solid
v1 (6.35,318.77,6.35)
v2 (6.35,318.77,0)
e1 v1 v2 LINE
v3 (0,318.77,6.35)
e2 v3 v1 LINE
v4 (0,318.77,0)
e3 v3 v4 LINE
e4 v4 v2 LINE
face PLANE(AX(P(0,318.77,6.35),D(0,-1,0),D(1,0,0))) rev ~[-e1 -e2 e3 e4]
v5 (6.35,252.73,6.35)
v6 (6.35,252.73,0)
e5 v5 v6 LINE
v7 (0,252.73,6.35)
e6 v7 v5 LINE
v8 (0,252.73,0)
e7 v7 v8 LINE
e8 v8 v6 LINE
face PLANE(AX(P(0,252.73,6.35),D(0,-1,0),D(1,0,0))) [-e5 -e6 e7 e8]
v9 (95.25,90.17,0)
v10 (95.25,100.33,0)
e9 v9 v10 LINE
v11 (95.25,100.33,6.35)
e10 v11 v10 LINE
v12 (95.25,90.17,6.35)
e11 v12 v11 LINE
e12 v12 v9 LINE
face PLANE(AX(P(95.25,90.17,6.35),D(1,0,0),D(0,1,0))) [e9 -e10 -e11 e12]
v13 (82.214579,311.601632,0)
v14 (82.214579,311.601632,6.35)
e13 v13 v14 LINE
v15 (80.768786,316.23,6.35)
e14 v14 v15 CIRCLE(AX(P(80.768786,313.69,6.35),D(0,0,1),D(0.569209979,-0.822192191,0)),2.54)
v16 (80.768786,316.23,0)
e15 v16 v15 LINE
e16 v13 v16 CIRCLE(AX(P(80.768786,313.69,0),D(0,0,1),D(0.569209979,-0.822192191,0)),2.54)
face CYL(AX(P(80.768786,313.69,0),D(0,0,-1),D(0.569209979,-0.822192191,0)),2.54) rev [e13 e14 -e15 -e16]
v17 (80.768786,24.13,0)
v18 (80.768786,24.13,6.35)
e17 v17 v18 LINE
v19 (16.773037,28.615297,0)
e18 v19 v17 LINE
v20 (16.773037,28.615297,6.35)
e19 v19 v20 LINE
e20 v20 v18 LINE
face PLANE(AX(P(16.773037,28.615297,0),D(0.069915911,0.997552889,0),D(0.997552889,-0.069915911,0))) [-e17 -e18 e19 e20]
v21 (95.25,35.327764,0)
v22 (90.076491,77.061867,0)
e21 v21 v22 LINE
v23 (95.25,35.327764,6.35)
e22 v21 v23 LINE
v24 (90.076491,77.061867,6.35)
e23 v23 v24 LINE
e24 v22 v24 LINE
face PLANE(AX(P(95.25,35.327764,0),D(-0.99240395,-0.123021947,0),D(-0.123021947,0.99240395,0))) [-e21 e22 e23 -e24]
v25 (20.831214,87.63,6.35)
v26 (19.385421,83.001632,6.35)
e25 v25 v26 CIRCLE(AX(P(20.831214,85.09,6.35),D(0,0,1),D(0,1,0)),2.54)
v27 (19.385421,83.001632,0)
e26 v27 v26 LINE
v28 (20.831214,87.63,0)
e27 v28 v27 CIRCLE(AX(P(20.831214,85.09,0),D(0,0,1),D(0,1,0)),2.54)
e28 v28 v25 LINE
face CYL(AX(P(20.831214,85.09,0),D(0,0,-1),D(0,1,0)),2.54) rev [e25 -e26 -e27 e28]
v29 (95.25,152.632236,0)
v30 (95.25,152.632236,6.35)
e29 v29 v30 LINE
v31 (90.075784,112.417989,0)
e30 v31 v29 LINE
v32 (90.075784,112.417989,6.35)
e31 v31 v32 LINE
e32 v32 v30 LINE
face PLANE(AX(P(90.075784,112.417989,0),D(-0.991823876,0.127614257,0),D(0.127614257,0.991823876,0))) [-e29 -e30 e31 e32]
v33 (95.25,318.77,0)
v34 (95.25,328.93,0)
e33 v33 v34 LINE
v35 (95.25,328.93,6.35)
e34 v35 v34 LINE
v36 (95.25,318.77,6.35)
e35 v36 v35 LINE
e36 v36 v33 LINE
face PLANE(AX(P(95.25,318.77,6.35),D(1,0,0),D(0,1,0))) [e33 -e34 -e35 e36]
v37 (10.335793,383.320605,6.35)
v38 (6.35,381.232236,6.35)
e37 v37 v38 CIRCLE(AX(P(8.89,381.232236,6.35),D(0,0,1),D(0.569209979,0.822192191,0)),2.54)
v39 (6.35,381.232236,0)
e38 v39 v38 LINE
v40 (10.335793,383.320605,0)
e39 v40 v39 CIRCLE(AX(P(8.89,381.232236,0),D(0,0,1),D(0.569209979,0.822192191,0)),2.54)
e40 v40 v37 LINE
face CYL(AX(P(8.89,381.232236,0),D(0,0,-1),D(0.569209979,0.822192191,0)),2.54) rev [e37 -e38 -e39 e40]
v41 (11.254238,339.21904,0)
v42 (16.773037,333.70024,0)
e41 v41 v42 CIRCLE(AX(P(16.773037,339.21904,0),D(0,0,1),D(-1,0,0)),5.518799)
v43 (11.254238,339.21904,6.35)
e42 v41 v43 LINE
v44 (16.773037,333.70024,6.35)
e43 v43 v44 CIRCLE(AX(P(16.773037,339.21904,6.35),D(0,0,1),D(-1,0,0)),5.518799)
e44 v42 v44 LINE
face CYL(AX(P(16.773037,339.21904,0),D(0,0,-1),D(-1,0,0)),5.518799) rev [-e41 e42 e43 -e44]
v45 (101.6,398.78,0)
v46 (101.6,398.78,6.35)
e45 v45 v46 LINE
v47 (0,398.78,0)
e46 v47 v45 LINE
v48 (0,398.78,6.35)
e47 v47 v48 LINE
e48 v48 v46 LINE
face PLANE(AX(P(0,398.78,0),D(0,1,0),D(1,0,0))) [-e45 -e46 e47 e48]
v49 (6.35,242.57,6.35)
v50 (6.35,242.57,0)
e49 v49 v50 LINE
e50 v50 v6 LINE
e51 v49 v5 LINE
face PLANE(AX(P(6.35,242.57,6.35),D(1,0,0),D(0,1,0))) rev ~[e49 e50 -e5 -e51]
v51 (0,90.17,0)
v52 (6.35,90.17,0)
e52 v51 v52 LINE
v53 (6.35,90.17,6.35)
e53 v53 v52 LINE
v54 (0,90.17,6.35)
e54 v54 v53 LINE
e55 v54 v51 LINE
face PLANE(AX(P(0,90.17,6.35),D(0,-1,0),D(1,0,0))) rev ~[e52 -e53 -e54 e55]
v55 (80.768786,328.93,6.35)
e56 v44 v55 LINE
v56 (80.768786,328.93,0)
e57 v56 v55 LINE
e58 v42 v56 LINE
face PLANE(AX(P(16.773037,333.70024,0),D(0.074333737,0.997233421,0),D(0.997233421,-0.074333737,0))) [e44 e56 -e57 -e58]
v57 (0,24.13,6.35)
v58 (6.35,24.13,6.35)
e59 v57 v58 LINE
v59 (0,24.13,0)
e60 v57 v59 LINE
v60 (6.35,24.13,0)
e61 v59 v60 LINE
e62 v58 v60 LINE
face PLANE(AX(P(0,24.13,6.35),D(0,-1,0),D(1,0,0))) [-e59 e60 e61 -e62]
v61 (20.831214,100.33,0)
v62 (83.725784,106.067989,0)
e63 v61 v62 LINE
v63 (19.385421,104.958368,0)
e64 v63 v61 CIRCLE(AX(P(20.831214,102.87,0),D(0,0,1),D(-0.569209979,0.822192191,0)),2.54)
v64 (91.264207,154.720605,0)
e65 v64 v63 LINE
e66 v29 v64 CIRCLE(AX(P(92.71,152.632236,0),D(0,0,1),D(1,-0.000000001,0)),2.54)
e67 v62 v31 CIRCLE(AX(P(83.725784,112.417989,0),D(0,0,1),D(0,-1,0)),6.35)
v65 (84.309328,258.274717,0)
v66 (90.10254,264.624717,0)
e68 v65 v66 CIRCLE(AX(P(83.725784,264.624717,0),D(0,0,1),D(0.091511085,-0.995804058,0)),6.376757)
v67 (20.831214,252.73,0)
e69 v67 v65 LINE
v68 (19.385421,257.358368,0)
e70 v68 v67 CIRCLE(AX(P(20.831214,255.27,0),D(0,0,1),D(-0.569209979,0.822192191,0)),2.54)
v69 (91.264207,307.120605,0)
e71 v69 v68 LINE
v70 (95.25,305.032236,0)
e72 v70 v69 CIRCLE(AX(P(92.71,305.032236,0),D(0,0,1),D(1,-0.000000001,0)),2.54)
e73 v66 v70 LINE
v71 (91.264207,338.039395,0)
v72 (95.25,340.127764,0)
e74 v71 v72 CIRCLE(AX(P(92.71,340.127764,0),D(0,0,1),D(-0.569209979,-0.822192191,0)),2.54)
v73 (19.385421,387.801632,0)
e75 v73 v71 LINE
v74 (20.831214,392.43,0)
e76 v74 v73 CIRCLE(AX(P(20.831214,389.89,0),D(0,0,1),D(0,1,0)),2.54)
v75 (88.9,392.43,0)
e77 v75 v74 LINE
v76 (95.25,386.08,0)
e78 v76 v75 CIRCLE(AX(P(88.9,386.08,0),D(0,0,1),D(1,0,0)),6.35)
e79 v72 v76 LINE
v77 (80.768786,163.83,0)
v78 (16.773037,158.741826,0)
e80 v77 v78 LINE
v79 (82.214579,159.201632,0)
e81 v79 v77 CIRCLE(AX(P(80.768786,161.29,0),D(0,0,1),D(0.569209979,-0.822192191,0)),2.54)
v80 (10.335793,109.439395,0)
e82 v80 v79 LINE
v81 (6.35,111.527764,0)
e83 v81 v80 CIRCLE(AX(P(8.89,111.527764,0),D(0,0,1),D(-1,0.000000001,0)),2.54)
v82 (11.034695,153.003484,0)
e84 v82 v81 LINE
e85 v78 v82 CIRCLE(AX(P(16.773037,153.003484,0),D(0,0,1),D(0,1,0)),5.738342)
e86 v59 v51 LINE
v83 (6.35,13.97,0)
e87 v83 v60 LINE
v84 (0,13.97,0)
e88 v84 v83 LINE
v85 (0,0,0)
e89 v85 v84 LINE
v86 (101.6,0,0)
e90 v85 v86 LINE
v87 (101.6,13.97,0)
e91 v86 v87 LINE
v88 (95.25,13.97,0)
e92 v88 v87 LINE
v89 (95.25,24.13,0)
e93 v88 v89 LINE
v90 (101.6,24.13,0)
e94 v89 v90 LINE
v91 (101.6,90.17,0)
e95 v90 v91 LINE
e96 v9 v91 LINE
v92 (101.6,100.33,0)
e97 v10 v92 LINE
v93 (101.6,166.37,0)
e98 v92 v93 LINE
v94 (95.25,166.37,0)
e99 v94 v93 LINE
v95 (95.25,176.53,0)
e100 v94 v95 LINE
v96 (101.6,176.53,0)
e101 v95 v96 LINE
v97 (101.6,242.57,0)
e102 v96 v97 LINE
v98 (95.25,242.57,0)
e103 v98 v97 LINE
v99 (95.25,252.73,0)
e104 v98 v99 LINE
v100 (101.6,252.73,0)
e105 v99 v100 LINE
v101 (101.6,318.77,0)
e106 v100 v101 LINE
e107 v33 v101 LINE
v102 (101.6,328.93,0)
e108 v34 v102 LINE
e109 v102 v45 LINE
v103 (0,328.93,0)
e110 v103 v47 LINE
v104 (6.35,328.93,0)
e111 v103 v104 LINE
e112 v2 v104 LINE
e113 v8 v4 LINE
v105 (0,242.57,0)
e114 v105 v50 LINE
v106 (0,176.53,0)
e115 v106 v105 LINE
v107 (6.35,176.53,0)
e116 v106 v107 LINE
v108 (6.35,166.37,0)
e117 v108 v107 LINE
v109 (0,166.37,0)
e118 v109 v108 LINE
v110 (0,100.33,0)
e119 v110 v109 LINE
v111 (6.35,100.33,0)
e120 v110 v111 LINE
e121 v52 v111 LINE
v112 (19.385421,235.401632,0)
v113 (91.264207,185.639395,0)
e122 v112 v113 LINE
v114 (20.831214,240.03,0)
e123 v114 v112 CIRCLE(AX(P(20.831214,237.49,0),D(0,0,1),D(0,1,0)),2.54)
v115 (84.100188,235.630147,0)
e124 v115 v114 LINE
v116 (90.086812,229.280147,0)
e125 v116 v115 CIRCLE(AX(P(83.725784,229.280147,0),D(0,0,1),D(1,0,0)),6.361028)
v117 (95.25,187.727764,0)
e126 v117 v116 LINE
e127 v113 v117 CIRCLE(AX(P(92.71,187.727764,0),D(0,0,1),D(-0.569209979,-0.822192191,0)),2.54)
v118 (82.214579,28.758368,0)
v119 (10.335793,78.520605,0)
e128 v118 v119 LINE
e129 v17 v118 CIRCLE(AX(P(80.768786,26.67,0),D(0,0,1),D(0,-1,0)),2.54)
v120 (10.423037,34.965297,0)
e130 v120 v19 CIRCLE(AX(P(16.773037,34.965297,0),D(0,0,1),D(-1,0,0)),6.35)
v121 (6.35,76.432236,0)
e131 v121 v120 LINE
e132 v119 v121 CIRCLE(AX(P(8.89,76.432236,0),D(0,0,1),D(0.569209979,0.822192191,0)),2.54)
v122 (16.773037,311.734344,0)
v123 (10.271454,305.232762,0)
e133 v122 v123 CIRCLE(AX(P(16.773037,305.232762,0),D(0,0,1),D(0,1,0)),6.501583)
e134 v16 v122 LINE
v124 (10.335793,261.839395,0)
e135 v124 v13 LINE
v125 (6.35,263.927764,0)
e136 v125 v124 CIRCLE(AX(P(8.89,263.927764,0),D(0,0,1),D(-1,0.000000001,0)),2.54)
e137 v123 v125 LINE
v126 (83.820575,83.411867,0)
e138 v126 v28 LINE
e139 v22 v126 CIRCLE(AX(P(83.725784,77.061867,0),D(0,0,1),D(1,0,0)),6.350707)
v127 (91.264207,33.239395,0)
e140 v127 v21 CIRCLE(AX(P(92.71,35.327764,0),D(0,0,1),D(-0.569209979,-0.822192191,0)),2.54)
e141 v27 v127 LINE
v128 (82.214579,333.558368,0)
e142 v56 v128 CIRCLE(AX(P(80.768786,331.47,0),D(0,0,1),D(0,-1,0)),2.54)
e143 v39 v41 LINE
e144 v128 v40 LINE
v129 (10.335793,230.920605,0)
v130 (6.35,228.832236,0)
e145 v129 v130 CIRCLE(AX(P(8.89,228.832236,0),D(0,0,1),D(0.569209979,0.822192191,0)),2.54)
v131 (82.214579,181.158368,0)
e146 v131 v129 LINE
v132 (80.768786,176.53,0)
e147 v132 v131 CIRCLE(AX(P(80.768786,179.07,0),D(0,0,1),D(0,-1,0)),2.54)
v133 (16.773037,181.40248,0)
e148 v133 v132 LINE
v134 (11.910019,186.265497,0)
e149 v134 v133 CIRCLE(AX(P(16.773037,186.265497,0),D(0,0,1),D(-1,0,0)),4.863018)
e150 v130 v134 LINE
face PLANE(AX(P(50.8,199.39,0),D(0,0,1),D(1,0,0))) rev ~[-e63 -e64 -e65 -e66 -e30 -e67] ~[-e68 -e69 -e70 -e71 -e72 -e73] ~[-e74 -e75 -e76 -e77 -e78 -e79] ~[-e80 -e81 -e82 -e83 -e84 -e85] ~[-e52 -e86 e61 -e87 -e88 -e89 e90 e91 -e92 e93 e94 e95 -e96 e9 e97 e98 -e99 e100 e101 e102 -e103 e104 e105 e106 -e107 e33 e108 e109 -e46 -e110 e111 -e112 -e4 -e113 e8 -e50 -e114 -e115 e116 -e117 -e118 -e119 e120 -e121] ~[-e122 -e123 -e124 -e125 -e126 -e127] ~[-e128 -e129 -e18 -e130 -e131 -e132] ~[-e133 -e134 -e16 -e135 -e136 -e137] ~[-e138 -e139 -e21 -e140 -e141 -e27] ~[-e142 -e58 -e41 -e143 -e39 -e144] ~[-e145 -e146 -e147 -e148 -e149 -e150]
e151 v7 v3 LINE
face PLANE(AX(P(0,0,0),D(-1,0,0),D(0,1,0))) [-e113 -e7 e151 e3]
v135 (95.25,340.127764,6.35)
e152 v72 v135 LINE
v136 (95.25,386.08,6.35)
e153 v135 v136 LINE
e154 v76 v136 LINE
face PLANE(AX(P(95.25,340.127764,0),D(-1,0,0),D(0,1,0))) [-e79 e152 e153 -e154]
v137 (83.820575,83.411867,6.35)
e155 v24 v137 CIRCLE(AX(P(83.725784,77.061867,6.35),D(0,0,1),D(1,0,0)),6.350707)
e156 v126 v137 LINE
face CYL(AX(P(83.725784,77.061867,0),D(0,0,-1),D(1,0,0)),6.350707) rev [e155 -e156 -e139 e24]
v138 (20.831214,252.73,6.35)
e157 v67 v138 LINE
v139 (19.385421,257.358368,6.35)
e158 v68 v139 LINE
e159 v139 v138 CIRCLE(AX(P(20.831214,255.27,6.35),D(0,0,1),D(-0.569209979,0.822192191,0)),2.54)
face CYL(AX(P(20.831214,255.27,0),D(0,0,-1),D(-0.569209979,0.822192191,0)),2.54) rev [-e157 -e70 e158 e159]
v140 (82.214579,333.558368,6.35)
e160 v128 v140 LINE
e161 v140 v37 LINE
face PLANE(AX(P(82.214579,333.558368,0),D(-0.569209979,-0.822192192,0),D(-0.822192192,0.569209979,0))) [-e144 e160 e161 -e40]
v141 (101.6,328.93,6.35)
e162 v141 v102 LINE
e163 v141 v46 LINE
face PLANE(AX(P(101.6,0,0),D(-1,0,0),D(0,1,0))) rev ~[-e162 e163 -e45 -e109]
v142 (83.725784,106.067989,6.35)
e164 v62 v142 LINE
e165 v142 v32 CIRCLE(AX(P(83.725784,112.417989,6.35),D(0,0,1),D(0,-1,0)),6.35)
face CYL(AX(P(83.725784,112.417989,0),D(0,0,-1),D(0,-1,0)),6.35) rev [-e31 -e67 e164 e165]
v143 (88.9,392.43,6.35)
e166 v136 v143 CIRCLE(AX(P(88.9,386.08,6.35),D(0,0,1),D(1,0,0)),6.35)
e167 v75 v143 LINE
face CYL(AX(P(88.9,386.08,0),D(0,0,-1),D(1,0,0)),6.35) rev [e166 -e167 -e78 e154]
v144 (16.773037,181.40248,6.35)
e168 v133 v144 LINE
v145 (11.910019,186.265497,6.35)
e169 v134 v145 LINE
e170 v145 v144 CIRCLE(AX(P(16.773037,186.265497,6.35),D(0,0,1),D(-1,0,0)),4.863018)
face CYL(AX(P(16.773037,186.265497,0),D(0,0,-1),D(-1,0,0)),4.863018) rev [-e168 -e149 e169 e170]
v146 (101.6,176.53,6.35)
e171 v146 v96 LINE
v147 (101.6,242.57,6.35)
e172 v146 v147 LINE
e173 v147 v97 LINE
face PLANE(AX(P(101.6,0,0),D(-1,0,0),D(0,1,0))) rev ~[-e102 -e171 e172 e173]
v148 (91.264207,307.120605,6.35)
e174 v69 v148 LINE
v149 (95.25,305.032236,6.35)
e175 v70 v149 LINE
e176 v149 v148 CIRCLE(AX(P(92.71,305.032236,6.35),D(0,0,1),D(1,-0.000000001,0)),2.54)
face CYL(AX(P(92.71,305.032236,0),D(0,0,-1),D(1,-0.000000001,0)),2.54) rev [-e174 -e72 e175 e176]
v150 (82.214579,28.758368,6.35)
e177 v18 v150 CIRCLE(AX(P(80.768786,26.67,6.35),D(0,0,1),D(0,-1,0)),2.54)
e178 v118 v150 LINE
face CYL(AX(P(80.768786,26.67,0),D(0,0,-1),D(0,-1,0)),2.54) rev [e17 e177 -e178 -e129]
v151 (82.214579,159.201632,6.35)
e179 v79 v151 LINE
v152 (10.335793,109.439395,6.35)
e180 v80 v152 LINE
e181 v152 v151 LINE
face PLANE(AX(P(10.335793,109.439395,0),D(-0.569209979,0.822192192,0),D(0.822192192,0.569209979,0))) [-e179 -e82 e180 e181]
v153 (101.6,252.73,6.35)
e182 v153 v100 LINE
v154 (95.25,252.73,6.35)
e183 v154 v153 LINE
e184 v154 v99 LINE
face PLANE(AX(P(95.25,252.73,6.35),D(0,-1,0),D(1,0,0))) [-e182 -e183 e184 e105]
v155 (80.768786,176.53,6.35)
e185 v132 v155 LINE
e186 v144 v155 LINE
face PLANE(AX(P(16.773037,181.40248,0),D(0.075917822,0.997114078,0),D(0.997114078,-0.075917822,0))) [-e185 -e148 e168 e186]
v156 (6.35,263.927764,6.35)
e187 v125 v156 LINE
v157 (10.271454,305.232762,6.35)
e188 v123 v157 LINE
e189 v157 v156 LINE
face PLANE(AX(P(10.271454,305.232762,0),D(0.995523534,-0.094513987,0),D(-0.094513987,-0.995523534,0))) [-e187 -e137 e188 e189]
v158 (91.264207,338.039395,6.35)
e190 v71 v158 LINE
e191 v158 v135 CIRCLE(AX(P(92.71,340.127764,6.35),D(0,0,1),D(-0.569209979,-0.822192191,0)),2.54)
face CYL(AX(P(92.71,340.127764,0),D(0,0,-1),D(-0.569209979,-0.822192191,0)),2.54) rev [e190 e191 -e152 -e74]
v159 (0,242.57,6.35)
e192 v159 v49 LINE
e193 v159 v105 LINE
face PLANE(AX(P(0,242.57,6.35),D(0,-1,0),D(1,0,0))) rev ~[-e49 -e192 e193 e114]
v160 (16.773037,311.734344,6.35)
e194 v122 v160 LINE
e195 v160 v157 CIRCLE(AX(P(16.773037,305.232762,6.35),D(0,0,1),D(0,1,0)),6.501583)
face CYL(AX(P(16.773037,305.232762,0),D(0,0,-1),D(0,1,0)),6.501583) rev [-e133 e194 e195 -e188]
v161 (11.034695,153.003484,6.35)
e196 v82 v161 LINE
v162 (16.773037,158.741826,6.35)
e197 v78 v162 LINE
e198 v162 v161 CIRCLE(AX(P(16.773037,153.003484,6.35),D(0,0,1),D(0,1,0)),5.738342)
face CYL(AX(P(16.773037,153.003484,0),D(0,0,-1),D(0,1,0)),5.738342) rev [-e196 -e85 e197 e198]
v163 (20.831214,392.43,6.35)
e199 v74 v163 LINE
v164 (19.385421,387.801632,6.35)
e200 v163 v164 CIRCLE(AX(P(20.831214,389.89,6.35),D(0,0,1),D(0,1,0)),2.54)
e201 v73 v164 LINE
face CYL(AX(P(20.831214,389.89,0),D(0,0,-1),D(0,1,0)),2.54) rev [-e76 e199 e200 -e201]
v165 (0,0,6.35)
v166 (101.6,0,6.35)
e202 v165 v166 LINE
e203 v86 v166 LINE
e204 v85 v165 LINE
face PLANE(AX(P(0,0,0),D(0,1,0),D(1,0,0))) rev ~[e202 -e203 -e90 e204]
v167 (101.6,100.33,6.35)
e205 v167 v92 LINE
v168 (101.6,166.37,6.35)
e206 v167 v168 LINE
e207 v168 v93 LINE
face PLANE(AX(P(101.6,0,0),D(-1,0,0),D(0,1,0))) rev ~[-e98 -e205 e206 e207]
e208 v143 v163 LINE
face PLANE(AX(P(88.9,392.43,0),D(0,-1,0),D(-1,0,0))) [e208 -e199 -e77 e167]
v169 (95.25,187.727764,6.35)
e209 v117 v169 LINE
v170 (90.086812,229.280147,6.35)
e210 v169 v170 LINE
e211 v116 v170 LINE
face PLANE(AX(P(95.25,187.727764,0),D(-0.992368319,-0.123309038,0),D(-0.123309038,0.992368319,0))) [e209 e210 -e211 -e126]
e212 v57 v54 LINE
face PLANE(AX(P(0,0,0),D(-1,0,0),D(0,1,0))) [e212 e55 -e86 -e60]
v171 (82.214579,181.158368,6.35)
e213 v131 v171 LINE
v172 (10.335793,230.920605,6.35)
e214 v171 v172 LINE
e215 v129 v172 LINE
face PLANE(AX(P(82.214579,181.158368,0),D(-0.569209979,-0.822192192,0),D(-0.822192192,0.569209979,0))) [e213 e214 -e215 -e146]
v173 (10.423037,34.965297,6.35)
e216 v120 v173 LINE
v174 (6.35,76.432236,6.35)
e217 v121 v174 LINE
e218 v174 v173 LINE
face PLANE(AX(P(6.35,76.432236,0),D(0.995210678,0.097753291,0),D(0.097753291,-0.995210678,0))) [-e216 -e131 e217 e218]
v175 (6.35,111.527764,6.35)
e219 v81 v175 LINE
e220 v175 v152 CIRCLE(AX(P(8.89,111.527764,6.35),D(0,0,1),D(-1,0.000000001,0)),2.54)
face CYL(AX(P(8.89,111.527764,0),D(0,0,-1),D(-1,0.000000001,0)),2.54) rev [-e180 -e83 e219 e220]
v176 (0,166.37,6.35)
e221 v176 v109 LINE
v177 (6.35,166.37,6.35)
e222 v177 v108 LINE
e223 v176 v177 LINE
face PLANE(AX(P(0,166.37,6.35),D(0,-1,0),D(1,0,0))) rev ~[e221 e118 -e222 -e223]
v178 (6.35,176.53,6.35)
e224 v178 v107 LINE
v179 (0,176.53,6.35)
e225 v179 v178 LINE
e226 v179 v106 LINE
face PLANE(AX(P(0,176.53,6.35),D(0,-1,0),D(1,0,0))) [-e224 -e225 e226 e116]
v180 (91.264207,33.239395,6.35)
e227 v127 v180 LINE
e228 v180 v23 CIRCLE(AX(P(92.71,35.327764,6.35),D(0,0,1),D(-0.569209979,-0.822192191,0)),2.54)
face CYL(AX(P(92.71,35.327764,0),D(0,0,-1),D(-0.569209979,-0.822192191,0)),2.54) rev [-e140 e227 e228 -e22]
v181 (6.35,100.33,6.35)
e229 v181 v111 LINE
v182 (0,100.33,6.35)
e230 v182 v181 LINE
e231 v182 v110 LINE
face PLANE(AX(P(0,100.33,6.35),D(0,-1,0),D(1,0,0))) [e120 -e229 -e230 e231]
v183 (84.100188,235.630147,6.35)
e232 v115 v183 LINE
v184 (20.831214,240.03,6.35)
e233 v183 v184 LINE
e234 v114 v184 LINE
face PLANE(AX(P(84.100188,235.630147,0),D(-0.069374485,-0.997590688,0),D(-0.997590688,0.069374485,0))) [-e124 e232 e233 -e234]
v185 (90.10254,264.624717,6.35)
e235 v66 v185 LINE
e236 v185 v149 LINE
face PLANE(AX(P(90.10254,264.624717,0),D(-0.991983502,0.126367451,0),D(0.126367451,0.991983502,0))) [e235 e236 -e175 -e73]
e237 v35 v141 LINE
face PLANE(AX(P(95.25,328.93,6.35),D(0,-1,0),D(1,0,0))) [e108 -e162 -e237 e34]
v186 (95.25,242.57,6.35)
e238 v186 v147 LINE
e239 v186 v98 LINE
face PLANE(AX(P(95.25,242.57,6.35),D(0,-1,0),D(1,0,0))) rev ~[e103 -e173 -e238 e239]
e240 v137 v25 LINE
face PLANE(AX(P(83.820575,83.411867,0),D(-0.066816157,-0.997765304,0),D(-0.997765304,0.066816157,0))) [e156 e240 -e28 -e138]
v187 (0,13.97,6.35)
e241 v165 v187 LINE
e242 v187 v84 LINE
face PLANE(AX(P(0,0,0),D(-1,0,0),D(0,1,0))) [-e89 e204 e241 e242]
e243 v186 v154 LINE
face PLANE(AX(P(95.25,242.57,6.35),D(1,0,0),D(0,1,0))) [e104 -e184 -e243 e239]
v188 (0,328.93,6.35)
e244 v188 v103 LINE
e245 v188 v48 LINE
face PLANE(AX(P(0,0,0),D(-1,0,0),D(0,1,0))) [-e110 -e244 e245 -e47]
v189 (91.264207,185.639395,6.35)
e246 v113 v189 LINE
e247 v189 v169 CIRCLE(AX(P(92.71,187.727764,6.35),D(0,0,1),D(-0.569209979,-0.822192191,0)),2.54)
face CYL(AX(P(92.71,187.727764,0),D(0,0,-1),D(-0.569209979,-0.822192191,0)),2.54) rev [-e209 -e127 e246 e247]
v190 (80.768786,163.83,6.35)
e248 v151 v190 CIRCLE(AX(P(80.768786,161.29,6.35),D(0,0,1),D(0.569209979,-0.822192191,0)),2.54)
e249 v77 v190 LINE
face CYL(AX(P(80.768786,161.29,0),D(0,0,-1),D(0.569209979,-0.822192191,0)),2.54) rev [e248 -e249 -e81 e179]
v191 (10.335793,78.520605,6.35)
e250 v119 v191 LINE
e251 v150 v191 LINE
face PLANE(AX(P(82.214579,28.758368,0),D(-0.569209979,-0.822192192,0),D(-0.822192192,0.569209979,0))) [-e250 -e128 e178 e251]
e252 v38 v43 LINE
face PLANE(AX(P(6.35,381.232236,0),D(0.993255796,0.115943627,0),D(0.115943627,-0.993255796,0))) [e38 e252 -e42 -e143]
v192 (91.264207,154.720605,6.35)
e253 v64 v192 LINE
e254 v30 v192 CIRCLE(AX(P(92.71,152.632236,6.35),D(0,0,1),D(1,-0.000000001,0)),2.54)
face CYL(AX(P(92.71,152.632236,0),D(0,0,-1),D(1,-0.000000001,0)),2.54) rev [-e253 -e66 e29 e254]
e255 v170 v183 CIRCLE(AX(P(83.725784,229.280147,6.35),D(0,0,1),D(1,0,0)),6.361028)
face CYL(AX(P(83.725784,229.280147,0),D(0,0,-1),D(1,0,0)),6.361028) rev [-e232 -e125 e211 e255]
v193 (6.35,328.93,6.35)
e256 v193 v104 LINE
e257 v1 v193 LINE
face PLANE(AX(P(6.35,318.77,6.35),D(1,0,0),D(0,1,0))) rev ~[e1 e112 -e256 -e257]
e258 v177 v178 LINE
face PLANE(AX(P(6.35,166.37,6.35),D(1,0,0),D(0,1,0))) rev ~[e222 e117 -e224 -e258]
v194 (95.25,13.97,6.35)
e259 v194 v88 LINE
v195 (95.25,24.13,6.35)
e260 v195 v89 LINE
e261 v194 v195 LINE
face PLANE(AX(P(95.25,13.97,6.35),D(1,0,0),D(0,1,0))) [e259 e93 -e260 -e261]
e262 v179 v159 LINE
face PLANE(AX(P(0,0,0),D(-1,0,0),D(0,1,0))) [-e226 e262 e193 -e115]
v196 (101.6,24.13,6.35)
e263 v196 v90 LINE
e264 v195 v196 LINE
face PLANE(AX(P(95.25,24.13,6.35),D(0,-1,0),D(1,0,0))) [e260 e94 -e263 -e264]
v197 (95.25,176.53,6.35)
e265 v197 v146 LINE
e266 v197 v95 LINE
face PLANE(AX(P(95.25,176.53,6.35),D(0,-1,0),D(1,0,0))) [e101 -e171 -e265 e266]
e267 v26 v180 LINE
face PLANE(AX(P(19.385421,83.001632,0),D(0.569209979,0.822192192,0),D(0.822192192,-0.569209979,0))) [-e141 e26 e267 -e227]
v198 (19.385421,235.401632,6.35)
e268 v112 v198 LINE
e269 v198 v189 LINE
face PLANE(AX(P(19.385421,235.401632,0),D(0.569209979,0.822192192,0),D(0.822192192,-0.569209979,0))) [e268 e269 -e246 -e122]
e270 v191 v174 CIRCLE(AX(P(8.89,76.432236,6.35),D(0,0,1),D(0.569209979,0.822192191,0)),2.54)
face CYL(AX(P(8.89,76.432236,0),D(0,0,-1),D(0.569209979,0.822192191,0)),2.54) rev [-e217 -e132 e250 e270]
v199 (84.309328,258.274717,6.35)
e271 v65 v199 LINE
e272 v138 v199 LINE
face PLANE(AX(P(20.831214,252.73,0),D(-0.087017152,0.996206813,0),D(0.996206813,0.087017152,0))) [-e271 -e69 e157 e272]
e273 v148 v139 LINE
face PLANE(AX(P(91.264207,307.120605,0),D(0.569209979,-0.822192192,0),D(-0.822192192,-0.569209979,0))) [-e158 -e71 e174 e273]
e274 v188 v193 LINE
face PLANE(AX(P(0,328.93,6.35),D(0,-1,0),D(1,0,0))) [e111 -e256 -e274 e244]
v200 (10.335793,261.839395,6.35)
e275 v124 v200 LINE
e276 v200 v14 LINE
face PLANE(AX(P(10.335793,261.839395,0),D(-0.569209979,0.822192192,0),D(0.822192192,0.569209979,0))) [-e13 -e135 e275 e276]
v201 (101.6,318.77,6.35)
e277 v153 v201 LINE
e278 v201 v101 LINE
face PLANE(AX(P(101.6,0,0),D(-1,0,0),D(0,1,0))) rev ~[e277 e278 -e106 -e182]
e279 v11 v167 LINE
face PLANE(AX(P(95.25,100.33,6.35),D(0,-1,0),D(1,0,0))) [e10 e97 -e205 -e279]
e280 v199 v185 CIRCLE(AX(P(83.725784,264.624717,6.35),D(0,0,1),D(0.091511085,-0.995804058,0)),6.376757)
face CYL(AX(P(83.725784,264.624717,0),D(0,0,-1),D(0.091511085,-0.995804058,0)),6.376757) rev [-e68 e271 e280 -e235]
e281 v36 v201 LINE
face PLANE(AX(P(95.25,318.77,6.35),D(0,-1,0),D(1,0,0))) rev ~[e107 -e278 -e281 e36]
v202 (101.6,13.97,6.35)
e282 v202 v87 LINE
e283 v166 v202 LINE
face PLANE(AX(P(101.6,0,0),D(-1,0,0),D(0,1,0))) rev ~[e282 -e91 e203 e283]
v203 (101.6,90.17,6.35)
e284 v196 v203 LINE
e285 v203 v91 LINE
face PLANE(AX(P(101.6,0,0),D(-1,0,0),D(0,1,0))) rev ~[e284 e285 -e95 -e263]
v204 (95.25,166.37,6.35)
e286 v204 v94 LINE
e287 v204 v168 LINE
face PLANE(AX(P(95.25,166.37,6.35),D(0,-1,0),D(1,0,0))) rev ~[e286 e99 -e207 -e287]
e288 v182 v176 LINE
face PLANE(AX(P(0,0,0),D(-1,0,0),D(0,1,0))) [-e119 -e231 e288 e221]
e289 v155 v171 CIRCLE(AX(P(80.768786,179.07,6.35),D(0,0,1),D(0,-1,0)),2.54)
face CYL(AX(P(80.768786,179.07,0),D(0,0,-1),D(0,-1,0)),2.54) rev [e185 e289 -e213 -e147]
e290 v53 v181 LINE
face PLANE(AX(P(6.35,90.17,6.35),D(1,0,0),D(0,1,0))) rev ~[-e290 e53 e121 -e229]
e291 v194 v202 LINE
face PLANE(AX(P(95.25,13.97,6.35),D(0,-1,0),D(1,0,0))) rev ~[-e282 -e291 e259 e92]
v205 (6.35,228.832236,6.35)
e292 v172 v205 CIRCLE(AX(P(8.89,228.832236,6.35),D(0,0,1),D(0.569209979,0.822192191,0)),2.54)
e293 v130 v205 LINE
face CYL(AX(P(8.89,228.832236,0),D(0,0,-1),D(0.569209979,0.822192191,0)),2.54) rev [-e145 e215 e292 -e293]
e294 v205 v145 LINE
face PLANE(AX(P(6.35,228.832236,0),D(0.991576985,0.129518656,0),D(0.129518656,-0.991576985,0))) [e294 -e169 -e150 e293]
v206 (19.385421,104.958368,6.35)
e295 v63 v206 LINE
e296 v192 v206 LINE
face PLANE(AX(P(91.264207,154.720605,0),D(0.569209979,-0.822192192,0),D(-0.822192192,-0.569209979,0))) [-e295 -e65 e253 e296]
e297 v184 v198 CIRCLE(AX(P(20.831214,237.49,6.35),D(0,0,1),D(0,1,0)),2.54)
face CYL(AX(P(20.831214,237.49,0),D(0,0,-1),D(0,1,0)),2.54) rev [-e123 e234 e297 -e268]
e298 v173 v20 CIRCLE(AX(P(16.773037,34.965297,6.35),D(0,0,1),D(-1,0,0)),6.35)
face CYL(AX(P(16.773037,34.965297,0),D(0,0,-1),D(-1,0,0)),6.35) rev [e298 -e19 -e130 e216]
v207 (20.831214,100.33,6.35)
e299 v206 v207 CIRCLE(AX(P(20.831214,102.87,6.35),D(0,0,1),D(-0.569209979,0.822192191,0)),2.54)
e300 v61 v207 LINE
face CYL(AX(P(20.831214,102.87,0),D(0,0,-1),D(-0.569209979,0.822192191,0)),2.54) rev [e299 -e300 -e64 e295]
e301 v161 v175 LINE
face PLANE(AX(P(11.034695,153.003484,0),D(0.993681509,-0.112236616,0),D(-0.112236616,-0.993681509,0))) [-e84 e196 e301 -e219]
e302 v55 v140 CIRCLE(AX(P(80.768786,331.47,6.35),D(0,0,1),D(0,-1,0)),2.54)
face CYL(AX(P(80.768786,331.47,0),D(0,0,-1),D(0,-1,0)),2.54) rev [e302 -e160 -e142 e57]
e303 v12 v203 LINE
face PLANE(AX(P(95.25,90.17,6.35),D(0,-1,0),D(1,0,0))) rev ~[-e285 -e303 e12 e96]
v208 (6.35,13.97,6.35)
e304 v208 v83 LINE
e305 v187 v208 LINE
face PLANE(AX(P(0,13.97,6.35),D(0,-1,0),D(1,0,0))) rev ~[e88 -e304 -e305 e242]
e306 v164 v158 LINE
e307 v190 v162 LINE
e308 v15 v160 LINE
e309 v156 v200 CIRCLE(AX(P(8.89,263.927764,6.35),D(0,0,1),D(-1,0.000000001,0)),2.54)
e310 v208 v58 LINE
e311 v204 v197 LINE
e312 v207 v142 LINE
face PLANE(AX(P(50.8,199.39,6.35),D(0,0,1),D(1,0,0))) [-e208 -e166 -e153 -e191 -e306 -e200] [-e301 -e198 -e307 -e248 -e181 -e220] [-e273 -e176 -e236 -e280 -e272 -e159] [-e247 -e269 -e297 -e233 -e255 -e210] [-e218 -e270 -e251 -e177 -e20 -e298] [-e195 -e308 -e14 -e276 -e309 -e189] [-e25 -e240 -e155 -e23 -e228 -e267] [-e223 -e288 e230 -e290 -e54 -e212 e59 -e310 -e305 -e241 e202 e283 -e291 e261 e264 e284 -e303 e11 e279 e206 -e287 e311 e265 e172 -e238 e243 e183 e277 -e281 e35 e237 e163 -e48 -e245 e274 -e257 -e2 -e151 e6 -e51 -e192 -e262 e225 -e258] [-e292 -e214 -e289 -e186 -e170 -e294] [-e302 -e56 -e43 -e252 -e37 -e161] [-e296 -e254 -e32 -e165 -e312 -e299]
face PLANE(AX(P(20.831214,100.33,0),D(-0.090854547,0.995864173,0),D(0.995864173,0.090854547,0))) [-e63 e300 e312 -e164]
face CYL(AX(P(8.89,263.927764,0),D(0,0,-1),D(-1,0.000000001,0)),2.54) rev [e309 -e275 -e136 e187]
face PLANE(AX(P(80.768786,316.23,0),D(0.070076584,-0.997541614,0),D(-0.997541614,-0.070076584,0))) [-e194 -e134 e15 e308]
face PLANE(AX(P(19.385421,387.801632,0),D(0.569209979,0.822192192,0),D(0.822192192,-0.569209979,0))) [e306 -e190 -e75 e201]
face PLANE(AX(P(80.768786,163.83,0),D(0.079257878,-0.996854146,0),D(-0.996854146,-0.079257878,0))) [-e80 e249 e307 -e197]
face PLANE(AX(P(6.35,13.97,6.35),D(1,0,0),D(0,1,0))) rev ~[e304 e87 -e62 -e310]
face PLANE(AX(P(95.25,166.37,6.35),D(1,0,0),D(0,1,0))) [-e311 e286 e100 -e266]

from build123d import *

# Parameters (mm, degrees)
MODEL_W             = 101.6
MODEL_H             = 398.78
BOSS_EXTRUDE1_DEPTH = 6.35
SKETCH1_W           = 6.35
SKETCH1_H           = 10.16
CUT_EXTRUDE1_DEPTH  = 6.35


with BuildPart() as part:
    # Model → Boss-Extrude1 (new body)
    with BuildSketch(Plane.XY):
        with Locations((50.8, 199.39)):
            Rectangle(MODEL_W, MODEL_H)
        with BuildLine():
            Line((83.820574672, 83.411866713), (20.83121403, 87.63))
            ThreePointArc((20.83121403, 87.63), (18.406749642, 85.847345646), (19.385420684, 83.001631833))
            Line((19.385420684, 83.001631833), (91.264206654, 33.239395393))
            ThreePointArc((91.264206654, 33.239395393), (93.888830968, 33.077884107), (95.25, 35.32776356))
            Line((95.25, 35.32776356), (90.076491123, 77.061866713))
            ThreePointArc((90.076491123, 77.061866713), (88.249801524, 81.518855344), (83.820574672, 83.411866713))
        make_face(mode=Mode.SUBTRACT)
        with BuildLine():
            Line((11.034694705, 153.003483907), (6.35, 111.52776356))
            ThreePointArc((6.35, 111.52776356), (7.711169032, 109.277884107), (10.335793346, 109.439395393))
            Line((10.335793346, 109.439395393), (82.214579316, 159.201631833))
            ThreePointArc((82.214579316, 159.201631833), (83.193250358, 162.047345646), (80.76878597, 163.83))
            Line((80.76878597, 163.83), (16.773036865, 158.741826067))
            ThreePointArc((16.773036865, 158.741826067), (12.715416211, 157.061104561), (11.034694705, 153.003483907))
        make_face(mode=Mode.SUBTRACT)
        with BuildLine():
            Line((84.100188096, 235.630146894), (20.83121403, 240.03))
            ThreePointArc((20.83121403, 240.03), (18.406749642, 238.247345646), (19.385420684, 235.401631833))
            Line((19.385420684, 235.401631833), (91.264206654, 185.639395393))
            ThreePointArc((91.264206654, 185.639395393), (93.888830968, 185.477884107), (95.25, 187.72776356))
            Line((95.25, 187.72776356), (90.086811771, 229.280146894))
            ThreePointArc((90.086811771, 229.280146894), (88.354189205, 233.643693703), (84.100188096, 235.630146894))
        make_face(mode=Mode.SUBTRACT)
        with BuildLine():
            Line((16.773036865, 181.402479512), (80.76878597, 176.53))
            ThreePointArc((80.76878597, 176.53), (83.193250358, 178.312654354), (82.214579316, 181.158368167))
            Line((82.214579316, 181.158368167), (10.335793346, 230.920604607))
            ThreePointArc((10.335793346, 230.920604607), (7.711169032, 231.082115893), (6.35, 228.83223644))
            Line((6.35, 228.83223644), (11.910018955, 186.265497422))
            ThreePointArc((11.910018955, 186.265497422), (13.334363923, 182.826824481), (16.773036865, 181.402479512))
        make_face(mode=Mode.SUBTRACT)
        with BuildLine():
            Line((91.264206654, 154.720604607), (19.385420684, 104.958368167))
            ThreePointArc((19.385420684, 104.958368167), (18.406749642, 102.112654354), (20.83121403, 100.33))
            Line((20.83121403, 100.33), (83.725783656, 106.06798896))
            ThreePointArc((83.725783656, 106.06798896), (88.215911716, 107.9278609), (90.075783656, 112.41798896))
            Line((90.075783656, 112.41798896), (95.25, 152.63223644))
            ThreePointArc((95.25, 152.63223644), (93.888830968, 154.882115893), (91.264206654, 154.720604607))
        make_face(mode=Mode.SUBTRACT)
        with BuildLine():
            Line((10.271454318, 305.232761919), (6.35, 263.92776356))
            ThreePointArc((6.35, 263.92776356), (7.711169032, 261.677884107), (10.335793346, 261.839395393))
            Line((10.335793346, 261.839395393), (82.214579316, 311.601631833))
            ThreePointArc((82.214579316, 311.601631833), (83.193250358, 314.447345646), (80.76878597, 316.23))
            Line((80.76878597, 316.23), (16.773036865, 311.734344465))
            ThreePointArc((16.773036865, 311.734344465), (12.175723757, 309.830075026), (10.271454318, 305.232761919))
        make_face(mode=Mode.SUBTRACT)
        with BuildLine():
            Line((88.9, 392.43), (20.83121403, 392.43))
            ThreePointArc((20.83121403, 392.43), (18.406749642, 390.647345646), (19.385420684, 387.801631833))
            Line((19.385420684, 387.801631833), (91.264206654, 338.039395393))
            ThreePointArc((91.264206654, 338.039395393), (93.888830968, 337.877884107), (95.25, 340.12776356))
            Line((95.25, 340.12776356), (95.25, 386.08))
            ThreePointArc((95.25, 386.08), (93.390128061, 390.570128061), (88.9, 392.43))
        make_face(mode=Mode.SUBTRACT)
        with BuildLine():
            Line((16.773036865, 333.700240414), (80.76878597, 328.93))
            ThreePointArc((80.76878597, 328.93), (83.193250358, 330.712654354), (82.214579316, 333.558368167))
            Line((82.214579316, 333.558368167), (10.335793346, 383.320604607))
            ThreePointArc((10.335793346, 383.320604607), (7.711169032, 383.482115893), (6.35, 381.23223644))
            Line((6.35, 381.23223644), (11.254237586, 339.219039692))
            ThreePointArc((11.254237586, 339.219039692), (12.870656471, 335.316659298), (16.773036865, 333.700240414))
        make_face(mode=Mode.SUBTRACT)
        with BuildLine():
            Line((16.773036865, 28.615297102), (80.76878597, 24.13))
            ThreePointArc((80.76878597, 24.13), (83.193250358, 25.912654354), (82.214579316, 28.758368167))
            Line((82.214579316, 28.758368167), (10.335793346, 78.520604607))
            ThreePointArc((10.335793346, 78.520604607), (7.711169032, 78.682115893), (6.35, 76.43223644))
            Line((6.35, 76.43223644), (10.423036865, 34.965297102))
            ThreePointArc((10.423036865, 34.965297102), (12.282908804, 30.475169041), (16.773036865, 28.615297102))
        make_face(mode=Mode.SUBTRACT)
        with BuildLine():
            Line((91.264206654, 307.120604607), (19.385420684, 257.358368167))
            ThreePointArc((19.385420684, 257.358368167), (18.406749642, 254.512654354), (20.83121403, 252.73))
            Line((20.83121403, 252.73), (84.309327563, 258.27471682))
            ThreePointArc((84.309327563, 258.27471682), (88.4366297, 260.326932153), (90.102540158, 264.62471682))
            Line((90.102540158, 264.62471682), (95.25, 305.03223644))
            ThreePointArc((95.25, 305.03223644), (93.888830968, 307.282115893), (91.264206654, 307.120604607))
        make_face(mode=Mode.SUBTRACT)
    extrude(amount=BOSS_EXTRUDE1_DEPTH)

    # Sketch1 → Cut-Extrude1 (cut)
    with BuildSketch(Plane.XY.offset(6.35)):
        with Locations((98.425, 19.05)):
            Rectangle(SKETCH1_W, SKETCH1_H)
        with Locations((3.175, 95.25)):
            Rectangle(SKETCH1_W, SKETCH1_H)
        with Locations((98.425, 171.45)):
            Rectangle(SKETCH1_W, SKETCH1_H)
        with Locations((3.175, 171.45)):
            Rectangle(SKETCH1_W, SKETCH1_H)
        with Locations((98.425, 247.65)):
            Rectangle(SKETCH1_W, SKETCH1_H)
        with Locations((3.175, 323.85)):
            Rectangle(SKETCH1_W, SKETCH1_H)
        with Locations((3.175, 19.05)):
            Rectangle(SKETCH1_W, SKETCH1_H)
        with Locations((98.425, 95.25)):
            Rectangle(SKETCH1_W, SKETCH1_H)
        with Locations((3.175, 247.65)):
            Rectangle(SKETCH1_W, SKETCH1_H)
        with Locations((98.425, 323.85)):
            Rectangle(SKETCH1_W, SKETCH1_H)
    extrude(amount=-CUT_EXTRUDE1_DEPTH, mode=Mode.SUBTRACT)


solid = part.part
